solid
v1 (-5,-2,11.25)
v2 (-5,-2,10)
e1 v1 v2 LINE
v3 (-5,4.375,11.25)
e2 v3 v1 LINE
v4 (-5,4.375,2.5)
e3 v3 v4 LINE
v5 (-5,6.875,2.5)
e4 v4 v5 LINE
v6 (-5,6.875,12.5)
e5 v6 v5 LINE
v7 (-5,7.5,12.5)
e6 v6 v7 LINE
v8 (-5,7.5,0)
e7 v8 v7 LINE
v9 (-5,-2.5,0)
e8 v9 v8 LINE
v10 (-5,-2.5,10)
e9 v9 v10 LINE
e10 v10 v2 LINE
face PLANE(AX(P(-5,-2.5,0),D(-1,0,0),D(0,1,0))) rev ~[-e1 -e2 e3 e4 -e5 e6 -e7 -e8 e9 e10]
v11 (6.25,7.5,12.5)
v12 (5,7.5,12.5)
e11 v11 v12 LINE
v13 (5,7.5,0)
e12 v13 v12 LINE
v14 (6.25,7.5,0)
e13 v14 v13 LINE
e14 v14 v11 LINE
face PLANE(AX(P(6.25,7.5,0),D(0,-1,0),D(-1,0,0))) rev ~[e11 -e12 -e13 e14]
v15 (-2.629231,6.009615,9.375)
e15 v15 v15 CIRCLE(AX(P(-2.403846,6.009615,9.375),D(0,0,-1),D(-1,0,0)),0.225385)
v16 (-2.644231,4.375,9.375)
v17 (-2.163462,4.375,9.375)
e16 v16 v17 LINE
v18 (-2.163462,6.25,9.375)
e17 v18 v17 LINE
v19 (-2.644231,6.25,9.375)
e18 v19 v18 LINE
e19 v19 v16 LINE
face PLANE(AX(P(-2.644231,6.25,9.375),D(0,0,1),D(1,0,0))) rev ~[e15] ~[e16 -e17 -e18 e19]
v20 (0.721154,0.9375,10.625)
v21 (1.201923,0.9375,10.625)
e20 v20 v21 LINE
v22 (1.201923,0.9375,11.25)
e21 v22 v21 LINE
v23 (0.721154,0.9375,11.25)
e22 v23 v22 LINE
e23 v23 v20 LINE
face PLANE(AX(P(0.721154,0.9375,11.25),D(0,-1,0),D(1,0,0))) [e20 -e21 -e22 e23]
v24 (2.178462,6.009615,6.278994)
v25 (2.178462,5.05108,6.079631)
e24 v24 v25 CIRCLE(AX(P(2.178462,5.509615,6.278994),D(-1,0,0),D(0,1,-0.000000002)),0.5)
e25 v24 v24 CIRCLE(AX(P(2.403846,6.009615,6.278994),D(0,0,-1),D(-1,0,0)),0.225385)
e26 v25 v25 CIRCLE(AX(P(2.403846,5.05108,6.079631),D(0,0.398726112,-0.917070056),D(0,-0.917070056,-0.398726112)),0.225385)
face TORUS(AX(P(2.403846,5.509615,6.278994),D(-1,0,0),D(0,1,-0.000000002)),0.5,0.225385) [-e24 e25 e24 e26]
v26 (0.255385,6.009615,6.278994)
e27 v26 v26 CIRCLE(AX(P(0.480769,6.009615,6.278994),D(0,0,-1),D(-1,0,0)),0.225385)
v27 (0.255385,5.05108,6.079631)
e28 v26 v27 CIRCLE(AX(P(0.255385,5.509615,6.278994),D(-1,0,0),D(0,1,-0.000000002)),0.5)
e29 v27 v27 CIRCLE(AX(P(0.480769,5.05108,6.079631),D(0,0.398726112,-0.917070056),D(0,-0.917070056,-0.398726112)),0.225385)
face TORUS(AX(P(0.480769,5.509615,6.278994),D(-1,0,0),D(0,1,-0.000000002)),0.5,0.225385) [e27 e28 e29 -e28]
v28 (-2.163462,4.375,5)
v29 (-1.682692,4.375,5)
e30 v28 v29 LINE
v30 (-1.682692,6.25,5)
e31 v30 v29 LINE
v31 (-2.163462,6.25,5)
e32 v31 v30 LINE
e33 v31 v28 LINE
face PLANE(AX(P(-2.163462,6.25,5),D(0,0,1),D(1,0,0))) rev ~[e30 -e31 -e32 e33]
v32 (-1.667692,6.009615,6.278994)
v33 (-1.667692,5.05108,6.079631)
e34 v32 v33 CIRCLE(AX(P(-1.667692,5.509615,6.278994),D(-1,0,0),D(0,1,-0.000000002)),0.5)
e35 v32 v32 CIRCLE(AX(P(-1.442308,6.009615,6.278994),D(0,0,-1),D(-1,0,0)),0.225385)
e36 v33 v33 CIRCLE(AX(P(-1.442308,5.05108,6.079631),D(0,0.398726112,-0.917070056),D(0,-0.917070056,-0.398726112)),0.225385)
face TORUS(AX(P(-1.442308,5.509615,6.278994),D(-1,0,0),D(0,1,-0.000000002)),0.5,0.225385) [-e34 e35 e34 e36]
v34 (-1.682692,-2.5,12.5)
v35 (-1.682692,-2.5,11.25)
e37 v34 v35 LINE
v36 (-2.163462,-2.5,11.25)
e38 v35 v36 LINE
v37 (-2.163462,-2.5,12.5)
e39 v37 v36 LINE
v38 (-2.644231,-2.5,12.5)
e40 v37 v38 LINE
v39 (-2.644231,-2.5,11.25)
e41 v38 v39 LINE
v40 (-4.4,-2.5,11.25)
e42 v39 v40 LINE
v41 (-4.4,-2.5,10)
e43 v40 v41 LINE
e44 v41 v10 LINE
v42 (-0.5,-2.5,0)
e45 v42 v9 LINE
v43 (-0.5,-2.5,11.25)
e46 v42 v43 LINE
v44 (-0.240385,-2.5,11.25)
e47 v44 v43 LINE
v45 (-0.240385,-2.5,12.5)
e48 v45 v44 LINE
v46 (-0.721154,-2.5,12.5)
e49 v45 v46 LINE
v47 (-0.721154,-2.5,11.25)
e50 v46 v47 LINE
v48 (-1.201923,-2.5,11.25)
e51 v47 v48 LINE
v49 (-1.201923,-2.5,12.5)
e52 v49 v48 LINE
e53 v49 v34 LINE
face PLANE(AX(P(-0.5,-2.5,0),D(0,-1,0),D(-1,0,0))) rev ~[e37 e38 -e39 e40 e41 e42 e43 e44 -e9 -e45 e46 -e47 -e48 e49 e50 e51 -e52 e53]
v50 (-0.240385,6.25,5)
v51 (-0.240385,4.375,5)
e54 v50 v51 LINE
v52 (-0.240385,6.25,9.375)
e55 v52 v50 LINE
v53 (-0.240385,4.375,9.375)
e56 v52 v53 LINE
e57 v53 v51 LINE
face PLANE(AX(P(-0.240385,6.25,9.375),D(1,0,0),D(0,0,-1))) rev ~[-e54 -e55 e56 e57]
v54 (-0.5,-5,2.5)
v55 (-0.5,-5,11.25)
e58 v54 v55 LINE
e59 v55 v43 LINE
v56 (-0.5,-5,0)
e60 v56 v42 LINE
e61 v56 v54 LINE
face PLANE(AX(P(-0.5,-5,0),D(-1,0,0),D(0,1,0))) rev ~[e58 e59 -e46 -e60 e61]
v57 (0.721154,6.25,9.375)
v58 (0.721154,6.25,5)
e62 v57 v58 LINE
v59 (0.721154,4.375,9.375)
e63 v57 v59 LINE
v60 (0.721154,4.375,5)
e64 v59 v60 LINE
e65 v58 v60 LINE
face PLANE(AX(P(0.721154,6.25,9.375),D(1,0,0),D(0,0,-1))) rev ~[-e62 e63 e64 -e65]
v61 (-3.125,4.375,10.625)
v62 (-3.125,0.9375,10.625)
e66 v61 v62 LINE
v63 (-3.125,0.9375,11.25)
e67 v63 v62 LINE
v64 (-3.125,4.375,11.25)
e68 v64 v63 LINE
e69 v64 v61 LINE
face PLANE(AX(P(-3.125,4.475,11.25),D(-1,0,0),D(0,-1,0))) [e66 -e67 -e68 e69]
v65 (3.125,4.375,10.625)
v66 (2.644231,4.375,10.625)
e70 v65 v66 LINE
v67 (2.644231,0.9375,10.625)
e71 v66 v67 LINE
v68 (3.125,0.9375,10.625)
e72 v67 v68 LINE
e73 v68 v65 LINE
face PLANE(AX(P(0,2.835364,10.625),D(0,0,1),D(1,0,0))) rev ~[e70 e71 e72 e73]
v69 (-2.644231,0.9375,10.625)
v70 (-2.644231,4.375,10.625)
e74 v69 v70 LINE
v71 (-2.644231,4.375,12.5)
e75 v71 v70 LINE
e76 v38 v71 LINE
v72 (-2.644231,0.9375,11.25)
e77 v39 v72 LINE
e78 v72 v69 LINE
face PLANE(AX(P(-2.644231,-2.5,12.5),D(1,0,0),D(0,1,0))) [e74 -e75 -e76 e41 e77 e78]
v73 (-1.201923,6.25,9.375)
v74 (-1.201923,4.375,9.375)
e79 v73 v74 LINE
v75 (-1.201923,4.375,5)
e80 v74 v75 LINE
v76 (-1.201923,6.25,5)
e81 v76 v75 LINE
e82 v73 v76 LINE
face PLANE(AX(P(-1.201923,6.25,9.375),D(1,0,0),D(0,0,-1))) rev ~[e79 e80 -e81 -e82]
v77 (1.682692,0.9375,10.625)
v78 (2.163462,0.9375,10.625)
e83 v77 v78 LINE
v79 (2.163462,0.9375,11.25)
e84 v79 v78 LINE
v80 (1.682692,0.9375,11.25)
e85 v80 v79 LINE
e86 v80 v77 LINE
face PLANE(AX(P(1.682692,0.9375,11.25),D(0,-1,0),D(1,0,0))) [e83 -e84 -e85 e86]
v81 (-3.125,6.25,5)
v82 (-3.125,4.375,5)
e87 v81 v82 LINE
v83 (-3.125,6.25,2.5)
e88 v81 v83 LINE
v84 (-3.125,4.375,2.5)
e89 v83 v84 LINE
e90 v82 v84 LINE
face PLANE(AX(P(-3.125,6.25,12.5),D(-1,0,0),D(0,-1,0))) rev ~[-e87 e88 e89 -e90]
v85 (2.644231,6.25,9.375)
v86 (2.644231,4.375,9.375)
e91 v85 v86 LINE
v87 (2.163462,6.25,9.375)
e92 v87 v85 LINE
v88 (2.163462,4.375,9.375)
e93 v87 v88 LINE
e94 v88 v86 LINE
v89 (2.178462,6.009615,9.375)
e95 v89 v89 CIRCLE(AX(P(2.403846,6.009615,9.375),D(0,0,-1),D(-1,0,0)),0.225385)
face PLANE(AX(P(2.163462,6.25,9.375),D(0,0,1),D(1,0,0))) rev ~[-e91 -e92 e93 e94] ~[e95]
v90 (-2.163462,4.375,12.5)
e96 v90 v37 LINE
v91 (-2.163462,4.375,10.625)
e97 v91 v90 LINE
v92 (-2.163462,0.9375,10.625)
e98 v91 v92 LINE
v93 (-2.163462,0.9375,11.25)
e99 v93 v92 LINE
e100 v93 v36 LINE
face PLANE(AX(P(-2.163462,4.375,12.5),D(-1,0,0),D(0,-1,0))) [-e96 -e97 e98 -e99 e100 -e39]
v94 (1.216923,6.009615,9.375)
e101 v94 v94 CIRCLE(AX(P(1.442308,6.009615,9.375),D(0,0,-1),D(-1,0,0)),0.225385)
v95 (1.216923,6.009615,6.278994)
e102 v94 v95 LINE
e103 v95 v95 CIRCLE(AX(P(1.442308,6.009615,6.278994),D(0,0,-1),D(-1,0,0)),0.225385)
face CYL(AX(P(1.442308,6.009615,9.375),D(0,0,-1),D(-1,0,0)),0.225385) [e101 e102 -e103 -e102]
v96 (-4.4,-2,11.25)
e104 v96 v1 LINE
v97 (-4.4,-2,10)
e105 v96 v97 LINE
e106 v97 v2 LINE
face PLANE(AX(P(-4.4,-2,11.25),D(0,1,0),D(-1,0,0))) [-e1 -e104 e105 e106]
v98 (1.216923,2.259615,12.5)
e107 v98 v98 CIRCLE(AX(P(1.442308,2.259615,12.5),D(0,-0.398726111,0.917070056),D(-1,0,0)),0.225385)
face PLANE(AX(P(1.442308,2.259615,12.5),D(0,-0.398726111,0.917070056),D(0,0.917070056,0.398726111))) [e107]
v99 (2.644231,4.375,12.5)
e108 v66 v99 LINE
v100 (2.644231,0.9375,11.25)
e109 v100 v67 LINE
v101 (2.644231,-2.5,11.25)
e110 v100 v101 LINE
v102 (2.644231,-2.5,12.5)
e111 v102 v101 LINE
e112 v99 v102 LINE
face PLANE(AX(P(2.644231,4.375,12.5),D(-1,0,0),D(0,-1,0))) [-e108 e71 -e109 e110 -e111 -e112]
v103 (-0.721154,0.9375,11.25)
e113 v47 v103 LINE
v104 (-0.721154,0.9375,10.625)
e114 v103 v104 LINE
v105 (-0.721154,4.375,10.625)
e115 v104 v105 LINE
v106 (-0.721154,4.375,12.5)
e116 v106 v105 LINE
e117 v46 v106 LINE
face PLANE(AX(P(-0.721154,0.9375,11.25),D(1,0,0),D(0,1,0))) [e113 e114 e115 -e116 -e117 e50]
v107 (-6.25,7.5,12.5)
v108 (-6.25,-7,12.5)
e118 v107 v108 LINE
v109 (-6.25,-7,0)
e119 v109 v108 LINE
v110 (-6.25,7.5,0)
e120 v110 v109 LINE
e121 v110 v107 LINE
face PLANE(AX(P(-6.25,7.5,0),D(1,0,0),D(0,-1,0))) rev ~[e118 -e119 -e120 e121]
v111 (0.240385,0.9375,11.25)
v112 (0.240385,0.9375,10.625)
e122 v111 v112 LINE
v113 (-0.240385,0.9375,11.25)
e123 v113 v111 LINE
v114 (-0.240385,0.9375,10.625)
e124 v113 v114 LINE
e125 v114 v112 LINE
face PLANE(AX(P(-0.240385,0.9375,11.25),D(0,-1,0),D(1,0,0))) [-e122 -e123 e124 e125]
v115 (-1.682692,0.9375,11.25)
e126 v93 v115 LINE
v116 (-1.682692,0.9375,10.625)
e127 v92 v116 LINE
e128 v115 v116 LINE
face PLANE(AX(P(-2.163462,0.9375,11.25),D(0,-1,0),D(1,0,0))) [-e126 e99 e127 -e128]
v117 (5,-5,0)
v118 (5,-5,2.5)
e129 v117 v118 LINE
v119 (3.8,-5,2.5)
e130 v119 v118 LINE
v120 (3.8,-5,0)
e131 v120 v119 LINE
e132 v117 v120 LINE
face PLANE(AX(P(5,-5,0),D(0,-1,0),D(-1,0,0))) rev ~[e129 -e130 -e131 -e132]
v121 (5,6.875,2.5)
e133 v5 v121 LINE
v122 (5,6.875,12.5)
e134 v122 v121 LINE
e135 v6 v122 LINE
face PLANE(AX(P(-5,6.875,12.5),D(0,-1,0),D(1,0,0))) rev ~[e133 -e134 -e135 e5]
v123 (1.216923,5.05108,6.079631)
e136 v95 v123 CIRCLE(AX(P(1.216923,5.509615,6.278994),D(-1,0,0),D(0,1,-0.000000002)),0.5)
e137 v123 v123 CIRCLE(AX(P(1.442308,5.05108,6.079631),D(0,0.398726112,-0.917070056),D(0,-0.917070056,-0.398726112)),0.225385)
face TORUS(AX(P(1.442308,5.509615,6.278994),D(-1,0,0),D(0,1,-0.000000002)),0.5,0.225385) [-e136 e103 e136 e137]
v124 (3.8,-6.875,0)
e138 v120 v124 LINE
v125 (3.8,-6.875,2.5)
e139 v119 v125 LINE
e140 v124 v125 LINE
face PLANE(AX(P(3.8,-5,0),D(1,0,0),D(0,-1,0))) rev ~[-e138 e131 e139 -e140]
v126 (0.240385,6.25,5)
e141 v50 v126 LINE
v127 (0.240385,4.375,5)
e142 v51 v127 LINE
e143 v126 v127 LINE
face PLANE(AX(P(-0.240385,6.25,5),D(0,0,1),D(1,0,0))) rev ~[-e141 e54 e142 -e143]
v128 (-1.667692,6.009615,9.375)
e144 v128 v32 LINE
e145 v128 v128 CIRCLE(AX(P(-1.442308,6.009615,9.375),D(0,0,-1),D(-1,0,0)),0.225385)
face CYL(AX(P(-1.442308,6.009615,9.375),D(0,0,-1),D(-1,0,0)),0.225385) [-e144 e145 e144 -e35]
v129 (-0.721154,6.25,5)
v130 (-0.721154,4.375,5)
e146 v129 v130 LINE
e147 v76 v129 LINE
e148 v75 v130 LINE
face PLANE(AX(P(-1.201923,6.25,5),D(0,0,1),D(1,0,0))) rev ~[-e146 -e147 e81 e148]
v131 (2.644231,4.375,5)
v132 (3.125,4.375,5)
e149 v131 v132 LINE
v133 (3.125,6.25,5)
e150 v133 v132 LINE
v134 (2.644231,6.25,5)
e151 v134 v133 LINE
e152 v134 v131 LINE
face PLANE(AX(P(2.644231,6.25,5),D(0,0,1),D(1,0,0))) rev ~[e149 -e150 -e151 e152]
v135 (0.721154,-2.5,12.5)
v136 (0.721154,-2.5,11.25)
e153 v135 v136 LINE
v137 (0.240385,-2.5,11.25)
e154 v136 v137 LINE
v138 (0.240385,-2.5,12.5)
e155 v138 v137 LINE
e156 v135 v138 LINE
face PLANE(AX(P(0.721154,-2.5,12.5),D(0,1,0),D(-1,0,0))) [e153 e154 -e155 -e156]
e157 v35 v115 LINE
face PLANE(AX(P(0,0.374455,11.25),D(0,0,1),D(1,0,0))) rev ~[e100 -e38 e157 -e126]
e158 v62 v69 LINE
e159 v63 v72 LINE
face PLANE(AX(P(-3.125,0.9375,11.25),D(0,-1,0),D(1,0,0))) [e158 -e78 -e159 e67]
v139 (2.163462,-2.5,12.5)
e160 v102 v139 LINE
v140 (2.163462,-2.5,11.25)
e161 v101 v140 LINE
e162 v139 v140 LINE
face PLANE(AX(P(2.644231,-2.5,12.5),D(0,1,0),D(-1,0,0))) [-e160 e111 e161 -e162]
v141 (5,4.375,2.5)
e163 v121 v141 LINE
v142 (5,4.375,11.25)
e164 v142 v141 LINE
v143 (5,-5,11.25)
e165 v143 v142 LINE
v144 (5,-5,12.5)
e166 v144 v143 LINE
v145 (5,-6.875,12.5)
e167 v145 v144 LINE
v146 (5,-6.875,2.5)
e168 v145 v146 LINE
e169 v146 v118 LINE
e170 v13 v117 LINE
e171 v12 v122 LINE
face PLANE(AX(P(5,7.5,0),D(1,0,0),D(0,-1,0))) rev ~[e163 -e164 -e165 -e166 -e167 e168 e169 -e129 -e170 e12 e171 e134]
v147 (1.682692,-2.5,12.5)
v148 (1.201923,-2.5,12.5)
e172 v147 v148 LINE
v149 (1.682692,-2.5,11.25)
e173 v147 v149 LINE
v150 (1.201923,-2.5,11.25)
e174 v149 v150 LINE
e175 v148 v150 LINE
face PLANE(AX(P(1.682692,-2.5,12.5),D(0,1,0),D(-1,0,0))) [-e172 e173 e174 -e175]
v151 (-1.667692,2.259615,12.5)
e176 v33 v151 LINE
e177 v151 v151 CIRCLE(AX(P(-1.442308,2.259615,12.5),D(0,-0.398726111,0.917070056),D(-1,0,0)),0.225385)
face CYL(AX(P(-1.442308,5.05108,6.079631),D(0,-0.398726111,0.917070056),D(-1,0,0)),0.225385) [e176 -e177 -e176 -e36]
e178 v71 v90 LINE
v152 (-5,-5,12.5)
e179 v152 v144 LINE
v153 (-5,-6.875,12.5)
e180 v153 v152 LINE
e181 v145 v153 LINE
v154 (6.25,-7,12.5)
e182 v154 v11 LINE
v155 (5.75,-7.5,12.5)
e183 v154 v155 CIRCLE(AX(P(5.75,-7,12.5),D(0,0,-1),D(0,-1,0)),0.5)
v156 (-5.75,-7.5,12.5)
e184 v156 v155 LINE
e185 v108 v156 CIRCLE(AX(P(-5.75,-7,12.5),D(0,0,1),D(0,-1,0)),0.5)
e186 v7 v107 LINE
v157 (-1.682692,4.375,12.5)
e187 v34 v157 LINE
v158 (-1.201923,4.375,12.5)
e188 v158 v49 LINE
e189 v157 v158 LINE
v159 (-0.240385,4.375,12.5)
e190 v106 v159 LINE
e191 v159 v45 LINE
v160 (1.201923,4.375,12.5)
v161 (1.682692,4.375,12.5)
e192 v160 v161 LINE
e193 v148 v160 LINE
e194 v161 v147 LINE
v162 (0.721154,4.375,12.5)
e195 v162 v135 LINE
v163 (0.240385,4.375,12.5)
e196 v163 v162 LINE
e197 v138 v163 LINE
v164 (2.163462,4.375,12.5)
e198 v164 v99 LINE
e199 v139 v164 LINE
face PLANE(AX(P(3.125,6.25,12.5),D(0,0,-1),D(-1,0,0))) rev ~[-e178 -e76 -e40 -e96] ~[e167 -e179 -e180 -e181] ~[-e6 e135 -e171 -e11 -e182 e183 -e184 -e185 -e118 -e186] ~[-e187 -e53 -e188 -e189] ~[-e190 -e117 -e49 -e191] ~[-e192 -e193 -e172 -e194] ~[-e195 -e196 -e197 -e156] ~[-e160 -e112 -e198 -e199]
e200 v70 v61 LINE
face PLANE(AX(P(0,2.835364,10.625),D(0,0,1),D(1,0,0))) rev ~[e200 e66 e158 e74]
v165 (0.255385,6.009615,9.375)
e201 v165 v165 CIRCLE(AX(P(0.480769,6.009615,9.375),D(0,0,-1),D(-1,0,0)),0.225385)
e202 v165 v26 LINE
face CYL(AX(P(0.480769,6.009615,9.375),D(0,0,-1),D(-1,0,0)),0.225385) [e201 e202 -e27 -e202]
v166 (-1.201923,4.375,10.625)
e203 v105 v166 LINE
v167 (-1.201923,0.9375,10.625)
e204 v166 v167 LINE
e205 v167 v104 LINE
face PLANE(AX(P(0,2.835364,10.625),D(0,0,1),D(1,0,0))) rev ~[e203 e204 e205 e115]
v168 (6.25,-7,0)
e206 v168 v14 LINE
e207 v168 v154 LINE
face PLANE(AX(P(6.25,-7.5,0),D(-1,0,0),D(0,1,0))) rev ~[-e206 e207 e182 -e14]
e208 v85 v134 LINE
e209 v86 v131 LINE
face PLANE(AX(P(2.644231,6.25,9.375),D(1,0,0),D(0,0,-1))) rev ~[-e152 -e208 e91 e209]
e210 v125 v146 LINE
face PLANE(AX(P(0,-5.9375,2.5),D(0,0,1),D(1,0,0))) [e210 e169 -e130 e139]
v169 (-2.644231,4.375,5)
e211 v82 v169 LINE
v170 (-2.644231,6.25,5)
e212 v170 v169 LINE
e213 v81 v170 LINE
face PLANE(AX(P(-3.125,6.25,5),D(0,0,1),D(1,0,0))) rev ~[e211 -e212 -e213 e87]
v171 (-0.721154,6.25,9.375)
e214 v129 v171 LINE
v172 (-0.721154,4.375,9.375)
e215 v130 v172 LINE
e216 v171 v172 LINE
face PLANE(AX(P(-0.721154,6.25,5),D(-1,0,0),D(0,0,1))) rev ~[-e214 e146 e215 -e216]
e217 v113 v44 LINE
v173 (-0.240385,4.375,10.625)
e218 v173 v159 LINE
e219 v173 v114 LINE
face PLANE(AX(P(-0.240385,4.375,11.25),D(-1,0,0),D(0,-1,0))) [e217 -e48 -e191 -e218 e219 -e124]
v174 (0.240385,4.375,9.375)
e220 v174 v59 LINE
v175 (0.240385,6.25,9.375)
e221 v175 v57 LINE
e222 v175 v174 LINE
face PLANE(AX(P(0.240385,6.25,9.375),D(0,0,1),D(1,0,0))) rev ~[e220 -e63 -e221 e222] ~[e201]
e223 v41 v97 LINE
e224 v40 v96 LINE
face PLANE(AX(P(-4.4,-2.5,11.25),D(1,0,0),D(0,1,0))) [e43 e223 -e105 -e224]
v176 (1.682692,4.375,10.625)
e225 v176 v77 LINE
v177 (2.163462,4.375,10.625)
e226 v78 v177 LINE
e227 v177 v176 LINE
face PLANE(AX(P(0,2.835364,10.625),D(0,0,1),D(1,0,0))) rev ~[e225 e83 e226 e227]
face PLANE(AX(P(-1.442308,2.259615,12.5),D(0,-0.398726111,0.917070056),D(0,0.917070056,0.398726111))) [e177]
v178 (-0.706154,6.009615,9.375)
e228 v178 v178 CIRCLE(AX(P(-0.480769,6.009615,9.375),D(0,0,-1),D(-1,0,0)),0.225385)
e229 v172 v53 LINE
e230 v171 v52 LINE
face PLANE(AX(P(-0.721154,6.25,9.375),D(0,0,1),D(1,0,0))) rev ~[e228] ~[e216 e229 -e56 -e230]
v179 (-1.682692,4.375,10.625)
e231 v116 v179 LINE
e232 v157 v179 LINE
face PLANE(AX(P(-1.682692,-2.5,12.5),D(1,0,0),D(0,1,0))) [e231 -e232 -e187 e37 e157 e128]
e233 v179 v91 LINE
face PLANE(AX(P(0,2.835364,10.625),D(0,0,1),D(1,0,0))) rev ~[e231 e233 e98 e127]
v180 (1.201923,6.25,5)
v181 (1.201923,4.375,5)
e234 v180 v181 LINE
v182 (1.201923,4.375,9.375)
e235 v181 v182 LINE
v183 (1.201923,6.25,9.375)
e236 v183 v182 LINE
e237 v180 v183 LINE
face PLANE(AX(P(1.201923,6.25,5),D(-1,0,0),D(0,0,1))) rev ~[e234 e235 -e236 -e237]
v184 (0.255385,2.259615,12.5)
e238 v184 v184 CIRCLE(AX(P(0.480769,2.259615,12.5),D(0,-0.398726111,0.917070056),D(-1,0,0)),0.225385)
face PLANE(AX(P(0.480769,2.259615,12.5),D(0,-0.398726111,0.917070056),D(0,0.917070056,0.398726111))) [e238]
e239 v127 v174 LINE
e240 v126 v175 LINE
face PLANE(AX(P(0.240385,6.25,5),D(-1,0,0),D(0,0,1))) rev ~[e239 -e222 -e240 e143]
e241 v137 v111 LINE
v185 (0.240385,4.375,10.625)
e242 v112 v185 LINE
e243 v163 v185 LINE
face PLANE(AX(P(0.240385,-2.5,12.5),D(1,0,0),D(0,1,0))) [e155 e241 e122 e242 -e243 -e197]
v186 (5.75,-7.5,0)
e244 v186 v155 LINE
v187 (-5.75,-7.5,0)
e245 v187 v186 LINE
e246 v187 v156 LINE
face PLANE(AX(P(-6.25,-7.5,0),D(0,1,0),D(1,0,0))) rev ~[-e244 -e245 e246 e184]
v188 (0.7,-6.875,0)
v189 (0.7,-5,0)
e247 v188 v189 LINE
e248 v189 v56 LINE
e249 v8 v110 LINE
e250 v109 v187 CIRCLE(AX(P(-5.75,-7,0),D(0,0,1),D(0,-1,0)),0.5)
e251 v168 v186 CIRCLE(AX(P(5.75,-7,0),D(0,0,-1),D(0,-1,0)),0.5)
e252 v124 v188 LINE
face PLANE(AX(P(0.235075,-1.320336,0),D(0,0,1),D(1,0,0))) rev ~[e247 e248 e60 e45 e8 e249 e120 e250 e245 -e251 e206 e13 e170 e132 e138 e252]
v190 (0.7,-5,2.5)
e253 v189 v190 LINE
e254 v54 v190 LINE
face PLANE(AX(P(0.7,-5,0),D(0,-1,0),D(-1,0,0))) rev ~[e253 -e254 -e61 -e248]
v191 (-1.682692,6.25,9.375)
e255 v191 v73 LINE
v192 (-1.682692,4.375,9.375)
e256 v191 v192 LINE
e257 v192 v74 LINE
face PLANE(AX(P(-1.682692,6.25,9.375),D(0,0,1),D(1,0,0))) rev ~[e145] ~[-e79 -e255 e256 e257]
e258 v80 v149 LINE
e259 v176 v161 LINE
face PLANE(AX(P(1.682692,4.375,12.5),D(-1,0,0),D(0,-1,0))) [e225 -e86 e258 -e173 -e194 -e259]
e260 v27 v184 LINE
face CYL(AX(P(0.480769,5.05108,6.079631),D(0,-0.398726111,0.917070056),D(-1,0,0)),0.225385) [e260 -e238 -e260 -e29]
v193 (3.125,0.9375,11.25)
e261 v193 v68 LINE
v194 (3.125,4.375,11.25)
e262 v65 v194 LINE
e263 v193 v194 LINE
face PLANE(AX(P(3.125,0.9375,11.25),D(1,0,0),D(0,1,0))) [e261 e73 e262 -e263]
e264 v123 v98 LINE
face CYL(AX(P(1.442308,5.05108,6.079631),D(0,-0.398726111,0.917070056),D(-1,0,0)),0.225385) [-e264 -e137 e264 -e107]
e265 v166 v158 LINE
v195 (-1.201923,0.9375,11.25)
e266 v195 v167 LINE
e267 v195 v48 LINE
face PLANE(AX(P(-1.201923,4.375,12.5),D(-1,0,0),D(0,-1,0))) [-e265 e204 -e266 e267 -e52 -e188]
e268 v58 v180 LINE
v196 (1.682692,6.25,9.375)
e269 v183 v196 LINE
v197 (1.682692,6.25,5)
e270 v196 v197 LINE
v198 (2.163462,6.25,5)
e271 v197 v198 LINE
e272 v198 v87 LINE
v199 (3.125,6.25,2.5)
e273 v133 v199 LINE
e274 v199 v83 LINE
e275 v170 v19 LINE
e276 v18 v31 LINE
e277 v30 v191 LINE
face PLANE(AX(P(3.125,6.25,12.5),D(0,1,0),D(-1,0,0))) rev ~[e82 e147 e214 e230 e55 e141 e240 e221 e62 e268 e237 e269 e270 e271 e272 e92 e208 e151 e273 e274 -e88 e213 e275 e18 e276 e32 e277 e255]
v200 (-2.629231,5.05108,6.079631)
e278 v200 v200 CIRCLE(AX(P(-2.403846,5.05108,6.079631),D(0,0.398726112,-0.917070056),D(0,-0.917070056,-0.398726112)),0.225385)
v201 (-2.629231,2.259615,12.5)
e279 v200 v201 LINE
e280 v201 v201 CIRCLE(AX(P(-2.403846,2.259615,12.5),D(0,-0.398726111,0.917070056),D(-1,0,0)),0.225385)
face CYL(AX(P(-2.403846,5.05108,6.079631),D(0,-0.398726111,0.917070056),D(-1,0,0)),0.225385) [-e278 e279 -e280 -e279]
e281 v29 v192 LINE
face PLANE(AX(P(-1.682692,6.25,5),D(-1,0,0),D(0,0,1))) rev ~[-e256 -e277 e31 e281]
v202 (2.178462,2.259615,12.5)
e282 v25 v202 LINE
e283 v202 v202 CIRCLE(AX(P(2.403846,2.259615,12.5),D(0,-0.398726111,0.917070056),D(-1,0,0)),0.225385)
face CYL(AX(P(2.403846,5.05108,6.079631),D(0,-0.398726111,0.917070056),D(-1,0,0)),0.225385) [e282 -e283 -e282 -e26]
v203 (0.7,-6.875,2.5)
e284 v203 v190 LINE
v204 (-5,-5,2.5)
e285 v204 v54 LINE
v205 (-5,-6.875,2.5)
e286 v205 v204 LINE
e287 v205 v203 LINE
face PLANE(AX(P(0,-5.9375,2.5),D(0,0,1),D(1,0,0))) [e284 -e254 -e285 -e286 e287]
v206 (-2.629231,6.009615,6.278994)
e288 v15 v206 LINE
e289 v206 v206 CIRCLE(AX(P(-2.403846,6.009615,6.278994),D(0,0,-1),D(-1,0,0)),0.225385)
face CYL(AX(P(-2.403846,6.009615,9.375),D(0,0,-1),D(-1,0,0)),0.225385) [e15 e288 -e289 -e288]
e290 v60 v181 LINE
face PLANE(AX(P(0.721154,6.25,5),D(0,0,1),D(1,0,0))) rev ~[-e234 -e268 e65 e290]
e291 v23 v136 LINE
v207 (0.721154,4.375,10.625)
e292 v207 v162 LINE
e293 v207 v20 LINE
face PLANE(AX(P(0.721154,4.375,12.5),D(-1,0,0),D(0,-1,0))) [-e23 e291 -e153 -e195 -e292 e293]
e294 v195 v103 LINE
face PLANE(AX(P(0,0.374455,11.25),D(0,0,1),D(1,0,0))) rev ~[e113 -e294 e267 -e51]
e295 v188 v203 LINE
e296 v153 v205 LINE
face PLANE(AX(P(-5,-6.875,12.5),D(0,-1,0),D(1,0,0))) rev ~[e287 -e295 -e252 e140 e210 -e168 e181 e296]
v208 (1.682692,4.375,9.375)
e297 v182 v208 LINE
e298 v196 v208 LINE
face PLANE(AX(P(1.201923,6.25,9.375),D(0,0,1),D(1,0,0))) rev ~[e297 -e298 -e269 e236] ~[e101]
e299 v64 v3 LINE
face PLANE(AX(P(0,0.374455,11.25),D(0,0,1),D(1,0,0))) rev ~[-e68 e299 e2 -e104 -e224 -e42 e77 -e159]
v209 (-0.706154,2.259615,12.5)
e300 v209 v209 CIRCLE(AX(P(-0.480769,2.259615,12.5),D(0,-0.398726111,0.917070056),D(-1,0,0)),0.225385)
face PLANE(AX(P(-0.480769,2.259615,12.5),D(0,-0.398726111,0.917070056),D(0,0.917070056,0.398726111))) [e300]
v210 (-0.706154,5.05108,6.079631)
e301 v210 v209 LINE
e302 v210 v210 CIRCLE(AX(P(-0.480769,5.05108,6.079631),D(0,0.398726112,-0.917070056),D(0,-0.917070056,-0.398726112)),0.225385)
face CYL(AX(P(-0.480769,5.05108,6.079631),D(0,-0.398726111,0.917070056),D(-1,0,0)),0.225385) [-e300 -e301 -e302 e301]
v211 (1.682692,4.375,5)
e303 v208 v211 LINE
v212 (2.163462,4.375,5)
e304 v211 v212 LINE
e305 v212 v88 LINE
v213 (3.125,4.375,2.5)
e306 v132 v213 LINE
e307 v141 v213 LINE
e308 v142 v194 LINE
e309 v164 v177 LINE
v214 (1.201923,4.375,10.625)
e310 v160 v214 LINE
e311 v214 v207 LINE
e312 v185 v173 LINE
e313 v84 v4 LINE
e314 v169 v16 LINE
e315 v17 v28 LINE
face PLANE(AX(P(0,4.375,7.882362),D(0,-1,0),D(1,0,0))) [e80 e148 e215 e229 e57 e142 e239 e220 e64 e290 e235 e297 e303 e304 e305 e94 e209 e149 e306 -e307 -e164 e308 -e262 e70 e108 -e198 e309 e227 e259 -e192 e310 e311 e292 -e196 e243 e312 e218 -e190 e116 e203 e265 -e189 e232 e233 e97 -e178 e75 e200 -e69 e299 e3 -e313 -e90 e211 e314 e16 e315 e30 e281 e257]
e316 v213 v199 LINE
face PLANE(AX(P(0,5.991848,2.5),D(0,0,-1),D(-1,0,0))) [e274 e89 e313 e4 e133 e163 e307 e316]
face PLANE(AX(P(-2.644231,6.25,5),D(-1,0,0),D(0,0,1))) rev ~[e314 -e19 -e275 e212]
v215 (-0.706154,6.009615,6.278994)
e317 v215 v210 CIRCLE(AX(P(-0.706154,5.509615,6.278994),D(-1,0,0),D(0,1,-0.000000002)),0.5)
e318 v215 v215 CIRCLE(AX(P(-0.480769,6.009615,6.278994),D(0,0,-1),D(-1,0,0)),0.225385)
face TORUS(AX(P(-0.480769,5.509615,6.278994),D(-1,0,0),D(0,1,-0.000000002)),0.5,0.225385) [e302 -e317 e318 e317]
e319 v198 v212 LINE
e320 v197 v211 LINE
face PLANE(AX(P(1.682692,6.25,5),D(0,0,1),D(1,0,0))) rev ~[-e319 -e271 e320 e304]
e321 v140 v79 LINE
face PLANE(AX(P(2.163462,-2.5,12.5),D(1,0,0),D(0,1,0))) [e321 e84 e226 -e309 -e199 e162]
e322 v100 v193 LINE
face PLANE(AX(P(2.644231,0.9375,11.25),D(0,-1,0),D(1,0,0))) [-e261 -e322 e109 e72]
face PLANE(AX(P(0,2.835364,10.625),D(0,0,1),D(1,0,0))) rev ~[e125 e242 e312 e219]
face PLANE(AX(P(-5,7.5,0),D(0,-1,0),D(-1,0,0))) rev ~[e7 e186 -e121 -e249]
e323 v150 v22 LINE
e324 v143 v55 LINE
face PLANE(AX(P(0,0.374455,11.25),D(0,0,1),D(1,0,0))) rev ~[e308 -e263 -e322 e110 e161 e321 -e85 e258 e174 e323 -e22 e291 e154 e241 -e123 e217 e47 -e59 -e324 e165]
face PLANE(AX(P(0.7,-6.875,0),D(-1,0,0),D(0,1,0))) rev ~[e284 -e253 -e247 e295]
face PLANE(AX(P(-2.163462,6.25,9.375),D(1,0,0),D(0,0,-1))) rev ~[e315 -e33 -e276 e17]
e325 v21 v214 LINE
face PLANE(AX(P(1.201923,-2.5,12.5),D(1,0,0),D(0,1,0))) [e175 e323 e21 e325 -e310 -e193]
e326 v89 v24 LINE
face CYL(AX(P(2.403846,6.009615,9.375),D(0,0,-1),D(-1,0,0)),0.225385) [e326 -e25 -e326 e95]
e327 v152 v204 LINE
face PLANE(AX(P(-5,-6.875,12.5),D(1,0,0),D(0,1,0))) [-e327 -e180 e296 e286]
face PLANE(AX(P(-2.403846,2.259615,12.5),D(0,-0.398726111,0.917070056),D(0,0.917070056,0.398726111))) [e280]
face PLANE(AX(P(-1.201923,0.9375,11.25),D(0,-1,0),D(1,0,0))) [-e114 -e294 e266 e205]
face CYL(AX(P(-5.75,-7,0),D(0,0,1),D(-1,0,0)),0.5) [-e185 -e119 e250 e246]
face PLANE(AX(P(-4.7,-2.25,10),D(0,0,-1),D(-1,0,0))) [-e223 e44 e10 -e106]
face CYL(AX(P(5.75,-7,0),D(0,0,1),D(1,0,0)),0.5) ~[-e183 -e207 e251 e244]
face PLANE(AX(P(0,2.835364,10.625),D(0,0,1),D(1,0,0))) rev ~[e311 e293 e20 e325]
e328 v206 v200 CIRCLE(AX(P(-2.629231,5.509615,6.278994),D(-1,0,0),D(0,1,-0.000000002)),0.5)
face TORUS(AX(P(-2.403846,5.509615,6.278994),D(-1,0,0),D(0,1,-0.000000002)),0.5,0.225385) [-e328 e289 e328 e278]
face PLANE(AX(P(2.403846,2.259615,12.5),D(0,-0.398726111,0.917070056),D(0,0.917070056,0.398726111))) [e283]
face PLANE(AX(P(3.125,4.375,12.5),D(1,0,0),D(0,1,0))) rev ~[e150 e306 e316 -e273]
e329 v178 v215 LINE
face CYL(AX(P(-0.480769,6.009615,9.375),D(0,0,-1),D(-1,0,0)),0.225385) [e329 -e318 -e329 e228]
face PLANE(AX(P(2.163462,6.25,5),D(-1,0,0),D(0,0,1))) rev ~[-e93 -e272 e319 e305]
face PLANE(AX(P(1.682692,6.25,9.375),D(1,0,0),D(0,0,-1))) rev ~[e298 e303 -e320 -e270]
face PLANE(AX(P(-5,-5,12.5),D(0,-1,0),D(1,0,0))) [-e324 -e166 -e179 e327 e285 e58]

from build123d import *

# Parameters (mm, degrees)
EXTRUDE2_DEPTH     = 12.5
EXTRUDE3_DEPTH     = 10
EXTRUDE4_DEPTH     = 1.875
EXTRUDE5_DEPTH     = 1.25
EXTRUDE6_DEPTH     = 0.625
SKETCH6_W          = 10
SKETCH6_H          = 1.875
CUT_EXTRUDE1_DEPTH = 10
SKETCH7_W          = 0.6
SKETCH7_H          = 0.5
EXTRUDE7_DEPTH     = 1.25
SKETCH8_R          = 0.225384615
FILLET1_R          = 0.5


with BuildPart() as part:
    # Sketch1 → Extrude2 (new body)
    with BuildSketch(Plane.XY):
        Polygon((-6.25, 7.5), (-6.25, -7.5), (6.25, -7.5), (6.25, 7.5), (5, 7.5), (5, -2.5), (5, -5), (3.8, -5), (3.8, -6.875), (0.7, -6.875), (0.7, -5), (-0.5, -5), (-0.5, -2.5), (-5, -2.5), (-5, 7.5), align=None)
    extrude(amount=EXTRUDE2_DEPTH)

    # Sketch2 → Extrude3 (add)
    with BuildSketch(Plane.XY.offset(12.5)):
        Polygon((5, 6.875), (5, 4.375), (3.125, 4.375), (3.125, 6.25), (-3.125, 6.25), (-3.125, 4.375), (-5, 4.375), (-5, 6.875), align=None)
    extrude(amount=-EXTRUDE3_DEPTH)

    # Sketch3 → Extrude4 (add)
    with BuildSketch(Plane.XZ.offset(-6.25)):
        Polygon((3.125, 5), (3.125, 12.5), (-3.125, 12.5), (-3.125, 5), (-2.644230769, 5), (-2.644230769, 9.375), (-2.163461538, 9.375), (-2.163461538, 5), (-1.682692308, 5), (-1.682692308, 9.375), (-1.201923077, 9.375), (-1.201923077, 5), (-0.721153846, 5), (-0.721153846, 9.375), (-0.240384615, 9.375), (-0.240384615, 5), (0.240384615, 5), (0.240384615, 9.375), (0.721153846, 9.375), (0.721153846, 5), (1.201923077, 5), (1.201923077, 9.375), (1.682692308, 9.375), (1.682692308, 5), (2.163461538, 5), (2.163461538, 9.375), (2.644230769, 9.375), (2.644230769, 5), align=None)
    extrude(amount=EXTRUDE4_DEPTH)

    # Sketch4 → Extrude5 (add)
    with BuildSketch(Plane.XY.offset(12.5)):
        Polygon((-5, -5), (5, -5), (5, 4.375), (2.644230769, 4.375), (2.644230769, -2.5), (2.163461538, -2.5), (2.163461538, 4.375), (1.682692308, 4.375), (1.682692308, -2.5), (1.201923077, -2.5), (1.201923077, 4.375), (0.721153846, 4.375), (0.721153846, -2.5), (0.240384615, -2.5), (0.240384615, 4.375), (-0.240384615, 4.375), (-0.240384615, -2.5), (-0.721153846, -2.5), (-0.721153846, 4.375), (-1.201923077, 4.375), (-1.201923077, -2.5), (-1.682692308, -2.5), (-1.682692308, 4.375), (-2.163461538, 4.375), (-2.163461538, -2.5), (-2.644230769, -2.5), (-2.644230769, 4.375), (-5, 4.375), align=None)
    extrude(amount=-EXTRUDE5_DEPTH)

    # Sketch5 → Extrude6 (add)
    with BuildSketch(Plane(origin=(0, 0, 11.25), x_dir=(-1, 0, 0), z_dir=(0, 0, -1))):
        Polygon((3.125, 4.475), (3.125, 0.9375), (2.644230769, 0.9375), (2.644230769, 4.375), (2.163461538, 4.375), (2.163461538, 0.9375), (1.682692308, 0.9375), (1.682692308, 4.375), (1.201923077, 4.375), (1.201923077, 0.9375), (0.721153846, 0.9375), (0.721153846, 4.375), (0.240384615, 4.375), (0.240384615, 0.9375), (-0.240384615, 0.9375), (-0.240384615, 4.375), (-0.721153846, 4.375), (-0.721153846, 0.9375), (-1.201923077, 0.9375), (-1.201923077, 4.375), (-1.682692308, 4.375), (-1.682692308, 0.9375), (-2.163461538, 0.9375), (-2.163461538, 4.375), (-2.644230769, 4.375), (-2.644230769, 0.9375), (-3.125, 0.9375), (-3.125, 4.475), align=None)
    extrude(amount=EXTRUDE6_DEPTH)

    # Sketch6 → Cut-Extrude1 (cut)
    with BuildSketch(Plane.XY.offset(12.5)):
        with Locations((0, -5.9375)):
            Rectangle(SKETCH6_W, SKETCH6_H)
    extrude(amount=-CUT_EXTRUDE1_DEPTH, mode=Mode.SUBTRACT)

    # Sketch7 → Extrude7 (add)
    with BuildSketch(Plane(origin=(0, 0, 11.25), x_dir=(-1, 0, 0), z_dir=(0, 0, -1))):
        with Locations((4.7, -2.25)):
            Rectangle(SKETCH7_W, SKETCH7_H)
    extrude(amount=EXTRUDE7_DEPTH)

    # Sweep1: sweep along a path in Sketch9
    with BuildLine(Plane(origin=(0, 0, 0), x_dir=(0, 0, -1), z_dir=(1, 0, 0))) as sweep1_path:
        Line((-9.375, 6.009615385), (-6.27899362, 6.009615385))
        ThreePointArc((-6.27899362, 6.009615385), (-5.78946961, 5.611430133), (-6.079630565, 5.051080356))
        Line((-6.079630565, 5.051080356), (-12.5, 2.259615385))
    # Sketch8 → Sweep1 (sweep)
    with BuildSketch(Plane(origin=(0, 0, 9.375), x_dir=(-1, 0, 0), z_dir=(0, 0, -1))):
        with Locations((2.403846154, 6.009615385)):
            Circle(SKETCH8_R)
        with Locations((1.442307692, 6.009615385)):
            Circle(SKETCH8_R)
        with Locations((0.480769231, 6.009615385)):
            Circle(SKETCH8_R)
        with Locations((-0.480769231, 6.009615385)):
            Circle(SKETCH8_R)
        with Locations((-1.442307692, 6.009615385)):
            Circle(SKETCH8_R)
        with Locations((-2.403846154, 6.009615385)):
            Circle(SKETCH8_R)
    sweep(path=sweep1_path.line)

    # Fillet1
    fillet1_edges = [part.edges().sort_by_distance(p)[0] for p in [
        (6.25, -7.5, 6.25),
        (-6.25, -7.5, 6.25),
    ]]
    fillet(fillet1_edges, radius=FILLET1_R)


solid = part.part
